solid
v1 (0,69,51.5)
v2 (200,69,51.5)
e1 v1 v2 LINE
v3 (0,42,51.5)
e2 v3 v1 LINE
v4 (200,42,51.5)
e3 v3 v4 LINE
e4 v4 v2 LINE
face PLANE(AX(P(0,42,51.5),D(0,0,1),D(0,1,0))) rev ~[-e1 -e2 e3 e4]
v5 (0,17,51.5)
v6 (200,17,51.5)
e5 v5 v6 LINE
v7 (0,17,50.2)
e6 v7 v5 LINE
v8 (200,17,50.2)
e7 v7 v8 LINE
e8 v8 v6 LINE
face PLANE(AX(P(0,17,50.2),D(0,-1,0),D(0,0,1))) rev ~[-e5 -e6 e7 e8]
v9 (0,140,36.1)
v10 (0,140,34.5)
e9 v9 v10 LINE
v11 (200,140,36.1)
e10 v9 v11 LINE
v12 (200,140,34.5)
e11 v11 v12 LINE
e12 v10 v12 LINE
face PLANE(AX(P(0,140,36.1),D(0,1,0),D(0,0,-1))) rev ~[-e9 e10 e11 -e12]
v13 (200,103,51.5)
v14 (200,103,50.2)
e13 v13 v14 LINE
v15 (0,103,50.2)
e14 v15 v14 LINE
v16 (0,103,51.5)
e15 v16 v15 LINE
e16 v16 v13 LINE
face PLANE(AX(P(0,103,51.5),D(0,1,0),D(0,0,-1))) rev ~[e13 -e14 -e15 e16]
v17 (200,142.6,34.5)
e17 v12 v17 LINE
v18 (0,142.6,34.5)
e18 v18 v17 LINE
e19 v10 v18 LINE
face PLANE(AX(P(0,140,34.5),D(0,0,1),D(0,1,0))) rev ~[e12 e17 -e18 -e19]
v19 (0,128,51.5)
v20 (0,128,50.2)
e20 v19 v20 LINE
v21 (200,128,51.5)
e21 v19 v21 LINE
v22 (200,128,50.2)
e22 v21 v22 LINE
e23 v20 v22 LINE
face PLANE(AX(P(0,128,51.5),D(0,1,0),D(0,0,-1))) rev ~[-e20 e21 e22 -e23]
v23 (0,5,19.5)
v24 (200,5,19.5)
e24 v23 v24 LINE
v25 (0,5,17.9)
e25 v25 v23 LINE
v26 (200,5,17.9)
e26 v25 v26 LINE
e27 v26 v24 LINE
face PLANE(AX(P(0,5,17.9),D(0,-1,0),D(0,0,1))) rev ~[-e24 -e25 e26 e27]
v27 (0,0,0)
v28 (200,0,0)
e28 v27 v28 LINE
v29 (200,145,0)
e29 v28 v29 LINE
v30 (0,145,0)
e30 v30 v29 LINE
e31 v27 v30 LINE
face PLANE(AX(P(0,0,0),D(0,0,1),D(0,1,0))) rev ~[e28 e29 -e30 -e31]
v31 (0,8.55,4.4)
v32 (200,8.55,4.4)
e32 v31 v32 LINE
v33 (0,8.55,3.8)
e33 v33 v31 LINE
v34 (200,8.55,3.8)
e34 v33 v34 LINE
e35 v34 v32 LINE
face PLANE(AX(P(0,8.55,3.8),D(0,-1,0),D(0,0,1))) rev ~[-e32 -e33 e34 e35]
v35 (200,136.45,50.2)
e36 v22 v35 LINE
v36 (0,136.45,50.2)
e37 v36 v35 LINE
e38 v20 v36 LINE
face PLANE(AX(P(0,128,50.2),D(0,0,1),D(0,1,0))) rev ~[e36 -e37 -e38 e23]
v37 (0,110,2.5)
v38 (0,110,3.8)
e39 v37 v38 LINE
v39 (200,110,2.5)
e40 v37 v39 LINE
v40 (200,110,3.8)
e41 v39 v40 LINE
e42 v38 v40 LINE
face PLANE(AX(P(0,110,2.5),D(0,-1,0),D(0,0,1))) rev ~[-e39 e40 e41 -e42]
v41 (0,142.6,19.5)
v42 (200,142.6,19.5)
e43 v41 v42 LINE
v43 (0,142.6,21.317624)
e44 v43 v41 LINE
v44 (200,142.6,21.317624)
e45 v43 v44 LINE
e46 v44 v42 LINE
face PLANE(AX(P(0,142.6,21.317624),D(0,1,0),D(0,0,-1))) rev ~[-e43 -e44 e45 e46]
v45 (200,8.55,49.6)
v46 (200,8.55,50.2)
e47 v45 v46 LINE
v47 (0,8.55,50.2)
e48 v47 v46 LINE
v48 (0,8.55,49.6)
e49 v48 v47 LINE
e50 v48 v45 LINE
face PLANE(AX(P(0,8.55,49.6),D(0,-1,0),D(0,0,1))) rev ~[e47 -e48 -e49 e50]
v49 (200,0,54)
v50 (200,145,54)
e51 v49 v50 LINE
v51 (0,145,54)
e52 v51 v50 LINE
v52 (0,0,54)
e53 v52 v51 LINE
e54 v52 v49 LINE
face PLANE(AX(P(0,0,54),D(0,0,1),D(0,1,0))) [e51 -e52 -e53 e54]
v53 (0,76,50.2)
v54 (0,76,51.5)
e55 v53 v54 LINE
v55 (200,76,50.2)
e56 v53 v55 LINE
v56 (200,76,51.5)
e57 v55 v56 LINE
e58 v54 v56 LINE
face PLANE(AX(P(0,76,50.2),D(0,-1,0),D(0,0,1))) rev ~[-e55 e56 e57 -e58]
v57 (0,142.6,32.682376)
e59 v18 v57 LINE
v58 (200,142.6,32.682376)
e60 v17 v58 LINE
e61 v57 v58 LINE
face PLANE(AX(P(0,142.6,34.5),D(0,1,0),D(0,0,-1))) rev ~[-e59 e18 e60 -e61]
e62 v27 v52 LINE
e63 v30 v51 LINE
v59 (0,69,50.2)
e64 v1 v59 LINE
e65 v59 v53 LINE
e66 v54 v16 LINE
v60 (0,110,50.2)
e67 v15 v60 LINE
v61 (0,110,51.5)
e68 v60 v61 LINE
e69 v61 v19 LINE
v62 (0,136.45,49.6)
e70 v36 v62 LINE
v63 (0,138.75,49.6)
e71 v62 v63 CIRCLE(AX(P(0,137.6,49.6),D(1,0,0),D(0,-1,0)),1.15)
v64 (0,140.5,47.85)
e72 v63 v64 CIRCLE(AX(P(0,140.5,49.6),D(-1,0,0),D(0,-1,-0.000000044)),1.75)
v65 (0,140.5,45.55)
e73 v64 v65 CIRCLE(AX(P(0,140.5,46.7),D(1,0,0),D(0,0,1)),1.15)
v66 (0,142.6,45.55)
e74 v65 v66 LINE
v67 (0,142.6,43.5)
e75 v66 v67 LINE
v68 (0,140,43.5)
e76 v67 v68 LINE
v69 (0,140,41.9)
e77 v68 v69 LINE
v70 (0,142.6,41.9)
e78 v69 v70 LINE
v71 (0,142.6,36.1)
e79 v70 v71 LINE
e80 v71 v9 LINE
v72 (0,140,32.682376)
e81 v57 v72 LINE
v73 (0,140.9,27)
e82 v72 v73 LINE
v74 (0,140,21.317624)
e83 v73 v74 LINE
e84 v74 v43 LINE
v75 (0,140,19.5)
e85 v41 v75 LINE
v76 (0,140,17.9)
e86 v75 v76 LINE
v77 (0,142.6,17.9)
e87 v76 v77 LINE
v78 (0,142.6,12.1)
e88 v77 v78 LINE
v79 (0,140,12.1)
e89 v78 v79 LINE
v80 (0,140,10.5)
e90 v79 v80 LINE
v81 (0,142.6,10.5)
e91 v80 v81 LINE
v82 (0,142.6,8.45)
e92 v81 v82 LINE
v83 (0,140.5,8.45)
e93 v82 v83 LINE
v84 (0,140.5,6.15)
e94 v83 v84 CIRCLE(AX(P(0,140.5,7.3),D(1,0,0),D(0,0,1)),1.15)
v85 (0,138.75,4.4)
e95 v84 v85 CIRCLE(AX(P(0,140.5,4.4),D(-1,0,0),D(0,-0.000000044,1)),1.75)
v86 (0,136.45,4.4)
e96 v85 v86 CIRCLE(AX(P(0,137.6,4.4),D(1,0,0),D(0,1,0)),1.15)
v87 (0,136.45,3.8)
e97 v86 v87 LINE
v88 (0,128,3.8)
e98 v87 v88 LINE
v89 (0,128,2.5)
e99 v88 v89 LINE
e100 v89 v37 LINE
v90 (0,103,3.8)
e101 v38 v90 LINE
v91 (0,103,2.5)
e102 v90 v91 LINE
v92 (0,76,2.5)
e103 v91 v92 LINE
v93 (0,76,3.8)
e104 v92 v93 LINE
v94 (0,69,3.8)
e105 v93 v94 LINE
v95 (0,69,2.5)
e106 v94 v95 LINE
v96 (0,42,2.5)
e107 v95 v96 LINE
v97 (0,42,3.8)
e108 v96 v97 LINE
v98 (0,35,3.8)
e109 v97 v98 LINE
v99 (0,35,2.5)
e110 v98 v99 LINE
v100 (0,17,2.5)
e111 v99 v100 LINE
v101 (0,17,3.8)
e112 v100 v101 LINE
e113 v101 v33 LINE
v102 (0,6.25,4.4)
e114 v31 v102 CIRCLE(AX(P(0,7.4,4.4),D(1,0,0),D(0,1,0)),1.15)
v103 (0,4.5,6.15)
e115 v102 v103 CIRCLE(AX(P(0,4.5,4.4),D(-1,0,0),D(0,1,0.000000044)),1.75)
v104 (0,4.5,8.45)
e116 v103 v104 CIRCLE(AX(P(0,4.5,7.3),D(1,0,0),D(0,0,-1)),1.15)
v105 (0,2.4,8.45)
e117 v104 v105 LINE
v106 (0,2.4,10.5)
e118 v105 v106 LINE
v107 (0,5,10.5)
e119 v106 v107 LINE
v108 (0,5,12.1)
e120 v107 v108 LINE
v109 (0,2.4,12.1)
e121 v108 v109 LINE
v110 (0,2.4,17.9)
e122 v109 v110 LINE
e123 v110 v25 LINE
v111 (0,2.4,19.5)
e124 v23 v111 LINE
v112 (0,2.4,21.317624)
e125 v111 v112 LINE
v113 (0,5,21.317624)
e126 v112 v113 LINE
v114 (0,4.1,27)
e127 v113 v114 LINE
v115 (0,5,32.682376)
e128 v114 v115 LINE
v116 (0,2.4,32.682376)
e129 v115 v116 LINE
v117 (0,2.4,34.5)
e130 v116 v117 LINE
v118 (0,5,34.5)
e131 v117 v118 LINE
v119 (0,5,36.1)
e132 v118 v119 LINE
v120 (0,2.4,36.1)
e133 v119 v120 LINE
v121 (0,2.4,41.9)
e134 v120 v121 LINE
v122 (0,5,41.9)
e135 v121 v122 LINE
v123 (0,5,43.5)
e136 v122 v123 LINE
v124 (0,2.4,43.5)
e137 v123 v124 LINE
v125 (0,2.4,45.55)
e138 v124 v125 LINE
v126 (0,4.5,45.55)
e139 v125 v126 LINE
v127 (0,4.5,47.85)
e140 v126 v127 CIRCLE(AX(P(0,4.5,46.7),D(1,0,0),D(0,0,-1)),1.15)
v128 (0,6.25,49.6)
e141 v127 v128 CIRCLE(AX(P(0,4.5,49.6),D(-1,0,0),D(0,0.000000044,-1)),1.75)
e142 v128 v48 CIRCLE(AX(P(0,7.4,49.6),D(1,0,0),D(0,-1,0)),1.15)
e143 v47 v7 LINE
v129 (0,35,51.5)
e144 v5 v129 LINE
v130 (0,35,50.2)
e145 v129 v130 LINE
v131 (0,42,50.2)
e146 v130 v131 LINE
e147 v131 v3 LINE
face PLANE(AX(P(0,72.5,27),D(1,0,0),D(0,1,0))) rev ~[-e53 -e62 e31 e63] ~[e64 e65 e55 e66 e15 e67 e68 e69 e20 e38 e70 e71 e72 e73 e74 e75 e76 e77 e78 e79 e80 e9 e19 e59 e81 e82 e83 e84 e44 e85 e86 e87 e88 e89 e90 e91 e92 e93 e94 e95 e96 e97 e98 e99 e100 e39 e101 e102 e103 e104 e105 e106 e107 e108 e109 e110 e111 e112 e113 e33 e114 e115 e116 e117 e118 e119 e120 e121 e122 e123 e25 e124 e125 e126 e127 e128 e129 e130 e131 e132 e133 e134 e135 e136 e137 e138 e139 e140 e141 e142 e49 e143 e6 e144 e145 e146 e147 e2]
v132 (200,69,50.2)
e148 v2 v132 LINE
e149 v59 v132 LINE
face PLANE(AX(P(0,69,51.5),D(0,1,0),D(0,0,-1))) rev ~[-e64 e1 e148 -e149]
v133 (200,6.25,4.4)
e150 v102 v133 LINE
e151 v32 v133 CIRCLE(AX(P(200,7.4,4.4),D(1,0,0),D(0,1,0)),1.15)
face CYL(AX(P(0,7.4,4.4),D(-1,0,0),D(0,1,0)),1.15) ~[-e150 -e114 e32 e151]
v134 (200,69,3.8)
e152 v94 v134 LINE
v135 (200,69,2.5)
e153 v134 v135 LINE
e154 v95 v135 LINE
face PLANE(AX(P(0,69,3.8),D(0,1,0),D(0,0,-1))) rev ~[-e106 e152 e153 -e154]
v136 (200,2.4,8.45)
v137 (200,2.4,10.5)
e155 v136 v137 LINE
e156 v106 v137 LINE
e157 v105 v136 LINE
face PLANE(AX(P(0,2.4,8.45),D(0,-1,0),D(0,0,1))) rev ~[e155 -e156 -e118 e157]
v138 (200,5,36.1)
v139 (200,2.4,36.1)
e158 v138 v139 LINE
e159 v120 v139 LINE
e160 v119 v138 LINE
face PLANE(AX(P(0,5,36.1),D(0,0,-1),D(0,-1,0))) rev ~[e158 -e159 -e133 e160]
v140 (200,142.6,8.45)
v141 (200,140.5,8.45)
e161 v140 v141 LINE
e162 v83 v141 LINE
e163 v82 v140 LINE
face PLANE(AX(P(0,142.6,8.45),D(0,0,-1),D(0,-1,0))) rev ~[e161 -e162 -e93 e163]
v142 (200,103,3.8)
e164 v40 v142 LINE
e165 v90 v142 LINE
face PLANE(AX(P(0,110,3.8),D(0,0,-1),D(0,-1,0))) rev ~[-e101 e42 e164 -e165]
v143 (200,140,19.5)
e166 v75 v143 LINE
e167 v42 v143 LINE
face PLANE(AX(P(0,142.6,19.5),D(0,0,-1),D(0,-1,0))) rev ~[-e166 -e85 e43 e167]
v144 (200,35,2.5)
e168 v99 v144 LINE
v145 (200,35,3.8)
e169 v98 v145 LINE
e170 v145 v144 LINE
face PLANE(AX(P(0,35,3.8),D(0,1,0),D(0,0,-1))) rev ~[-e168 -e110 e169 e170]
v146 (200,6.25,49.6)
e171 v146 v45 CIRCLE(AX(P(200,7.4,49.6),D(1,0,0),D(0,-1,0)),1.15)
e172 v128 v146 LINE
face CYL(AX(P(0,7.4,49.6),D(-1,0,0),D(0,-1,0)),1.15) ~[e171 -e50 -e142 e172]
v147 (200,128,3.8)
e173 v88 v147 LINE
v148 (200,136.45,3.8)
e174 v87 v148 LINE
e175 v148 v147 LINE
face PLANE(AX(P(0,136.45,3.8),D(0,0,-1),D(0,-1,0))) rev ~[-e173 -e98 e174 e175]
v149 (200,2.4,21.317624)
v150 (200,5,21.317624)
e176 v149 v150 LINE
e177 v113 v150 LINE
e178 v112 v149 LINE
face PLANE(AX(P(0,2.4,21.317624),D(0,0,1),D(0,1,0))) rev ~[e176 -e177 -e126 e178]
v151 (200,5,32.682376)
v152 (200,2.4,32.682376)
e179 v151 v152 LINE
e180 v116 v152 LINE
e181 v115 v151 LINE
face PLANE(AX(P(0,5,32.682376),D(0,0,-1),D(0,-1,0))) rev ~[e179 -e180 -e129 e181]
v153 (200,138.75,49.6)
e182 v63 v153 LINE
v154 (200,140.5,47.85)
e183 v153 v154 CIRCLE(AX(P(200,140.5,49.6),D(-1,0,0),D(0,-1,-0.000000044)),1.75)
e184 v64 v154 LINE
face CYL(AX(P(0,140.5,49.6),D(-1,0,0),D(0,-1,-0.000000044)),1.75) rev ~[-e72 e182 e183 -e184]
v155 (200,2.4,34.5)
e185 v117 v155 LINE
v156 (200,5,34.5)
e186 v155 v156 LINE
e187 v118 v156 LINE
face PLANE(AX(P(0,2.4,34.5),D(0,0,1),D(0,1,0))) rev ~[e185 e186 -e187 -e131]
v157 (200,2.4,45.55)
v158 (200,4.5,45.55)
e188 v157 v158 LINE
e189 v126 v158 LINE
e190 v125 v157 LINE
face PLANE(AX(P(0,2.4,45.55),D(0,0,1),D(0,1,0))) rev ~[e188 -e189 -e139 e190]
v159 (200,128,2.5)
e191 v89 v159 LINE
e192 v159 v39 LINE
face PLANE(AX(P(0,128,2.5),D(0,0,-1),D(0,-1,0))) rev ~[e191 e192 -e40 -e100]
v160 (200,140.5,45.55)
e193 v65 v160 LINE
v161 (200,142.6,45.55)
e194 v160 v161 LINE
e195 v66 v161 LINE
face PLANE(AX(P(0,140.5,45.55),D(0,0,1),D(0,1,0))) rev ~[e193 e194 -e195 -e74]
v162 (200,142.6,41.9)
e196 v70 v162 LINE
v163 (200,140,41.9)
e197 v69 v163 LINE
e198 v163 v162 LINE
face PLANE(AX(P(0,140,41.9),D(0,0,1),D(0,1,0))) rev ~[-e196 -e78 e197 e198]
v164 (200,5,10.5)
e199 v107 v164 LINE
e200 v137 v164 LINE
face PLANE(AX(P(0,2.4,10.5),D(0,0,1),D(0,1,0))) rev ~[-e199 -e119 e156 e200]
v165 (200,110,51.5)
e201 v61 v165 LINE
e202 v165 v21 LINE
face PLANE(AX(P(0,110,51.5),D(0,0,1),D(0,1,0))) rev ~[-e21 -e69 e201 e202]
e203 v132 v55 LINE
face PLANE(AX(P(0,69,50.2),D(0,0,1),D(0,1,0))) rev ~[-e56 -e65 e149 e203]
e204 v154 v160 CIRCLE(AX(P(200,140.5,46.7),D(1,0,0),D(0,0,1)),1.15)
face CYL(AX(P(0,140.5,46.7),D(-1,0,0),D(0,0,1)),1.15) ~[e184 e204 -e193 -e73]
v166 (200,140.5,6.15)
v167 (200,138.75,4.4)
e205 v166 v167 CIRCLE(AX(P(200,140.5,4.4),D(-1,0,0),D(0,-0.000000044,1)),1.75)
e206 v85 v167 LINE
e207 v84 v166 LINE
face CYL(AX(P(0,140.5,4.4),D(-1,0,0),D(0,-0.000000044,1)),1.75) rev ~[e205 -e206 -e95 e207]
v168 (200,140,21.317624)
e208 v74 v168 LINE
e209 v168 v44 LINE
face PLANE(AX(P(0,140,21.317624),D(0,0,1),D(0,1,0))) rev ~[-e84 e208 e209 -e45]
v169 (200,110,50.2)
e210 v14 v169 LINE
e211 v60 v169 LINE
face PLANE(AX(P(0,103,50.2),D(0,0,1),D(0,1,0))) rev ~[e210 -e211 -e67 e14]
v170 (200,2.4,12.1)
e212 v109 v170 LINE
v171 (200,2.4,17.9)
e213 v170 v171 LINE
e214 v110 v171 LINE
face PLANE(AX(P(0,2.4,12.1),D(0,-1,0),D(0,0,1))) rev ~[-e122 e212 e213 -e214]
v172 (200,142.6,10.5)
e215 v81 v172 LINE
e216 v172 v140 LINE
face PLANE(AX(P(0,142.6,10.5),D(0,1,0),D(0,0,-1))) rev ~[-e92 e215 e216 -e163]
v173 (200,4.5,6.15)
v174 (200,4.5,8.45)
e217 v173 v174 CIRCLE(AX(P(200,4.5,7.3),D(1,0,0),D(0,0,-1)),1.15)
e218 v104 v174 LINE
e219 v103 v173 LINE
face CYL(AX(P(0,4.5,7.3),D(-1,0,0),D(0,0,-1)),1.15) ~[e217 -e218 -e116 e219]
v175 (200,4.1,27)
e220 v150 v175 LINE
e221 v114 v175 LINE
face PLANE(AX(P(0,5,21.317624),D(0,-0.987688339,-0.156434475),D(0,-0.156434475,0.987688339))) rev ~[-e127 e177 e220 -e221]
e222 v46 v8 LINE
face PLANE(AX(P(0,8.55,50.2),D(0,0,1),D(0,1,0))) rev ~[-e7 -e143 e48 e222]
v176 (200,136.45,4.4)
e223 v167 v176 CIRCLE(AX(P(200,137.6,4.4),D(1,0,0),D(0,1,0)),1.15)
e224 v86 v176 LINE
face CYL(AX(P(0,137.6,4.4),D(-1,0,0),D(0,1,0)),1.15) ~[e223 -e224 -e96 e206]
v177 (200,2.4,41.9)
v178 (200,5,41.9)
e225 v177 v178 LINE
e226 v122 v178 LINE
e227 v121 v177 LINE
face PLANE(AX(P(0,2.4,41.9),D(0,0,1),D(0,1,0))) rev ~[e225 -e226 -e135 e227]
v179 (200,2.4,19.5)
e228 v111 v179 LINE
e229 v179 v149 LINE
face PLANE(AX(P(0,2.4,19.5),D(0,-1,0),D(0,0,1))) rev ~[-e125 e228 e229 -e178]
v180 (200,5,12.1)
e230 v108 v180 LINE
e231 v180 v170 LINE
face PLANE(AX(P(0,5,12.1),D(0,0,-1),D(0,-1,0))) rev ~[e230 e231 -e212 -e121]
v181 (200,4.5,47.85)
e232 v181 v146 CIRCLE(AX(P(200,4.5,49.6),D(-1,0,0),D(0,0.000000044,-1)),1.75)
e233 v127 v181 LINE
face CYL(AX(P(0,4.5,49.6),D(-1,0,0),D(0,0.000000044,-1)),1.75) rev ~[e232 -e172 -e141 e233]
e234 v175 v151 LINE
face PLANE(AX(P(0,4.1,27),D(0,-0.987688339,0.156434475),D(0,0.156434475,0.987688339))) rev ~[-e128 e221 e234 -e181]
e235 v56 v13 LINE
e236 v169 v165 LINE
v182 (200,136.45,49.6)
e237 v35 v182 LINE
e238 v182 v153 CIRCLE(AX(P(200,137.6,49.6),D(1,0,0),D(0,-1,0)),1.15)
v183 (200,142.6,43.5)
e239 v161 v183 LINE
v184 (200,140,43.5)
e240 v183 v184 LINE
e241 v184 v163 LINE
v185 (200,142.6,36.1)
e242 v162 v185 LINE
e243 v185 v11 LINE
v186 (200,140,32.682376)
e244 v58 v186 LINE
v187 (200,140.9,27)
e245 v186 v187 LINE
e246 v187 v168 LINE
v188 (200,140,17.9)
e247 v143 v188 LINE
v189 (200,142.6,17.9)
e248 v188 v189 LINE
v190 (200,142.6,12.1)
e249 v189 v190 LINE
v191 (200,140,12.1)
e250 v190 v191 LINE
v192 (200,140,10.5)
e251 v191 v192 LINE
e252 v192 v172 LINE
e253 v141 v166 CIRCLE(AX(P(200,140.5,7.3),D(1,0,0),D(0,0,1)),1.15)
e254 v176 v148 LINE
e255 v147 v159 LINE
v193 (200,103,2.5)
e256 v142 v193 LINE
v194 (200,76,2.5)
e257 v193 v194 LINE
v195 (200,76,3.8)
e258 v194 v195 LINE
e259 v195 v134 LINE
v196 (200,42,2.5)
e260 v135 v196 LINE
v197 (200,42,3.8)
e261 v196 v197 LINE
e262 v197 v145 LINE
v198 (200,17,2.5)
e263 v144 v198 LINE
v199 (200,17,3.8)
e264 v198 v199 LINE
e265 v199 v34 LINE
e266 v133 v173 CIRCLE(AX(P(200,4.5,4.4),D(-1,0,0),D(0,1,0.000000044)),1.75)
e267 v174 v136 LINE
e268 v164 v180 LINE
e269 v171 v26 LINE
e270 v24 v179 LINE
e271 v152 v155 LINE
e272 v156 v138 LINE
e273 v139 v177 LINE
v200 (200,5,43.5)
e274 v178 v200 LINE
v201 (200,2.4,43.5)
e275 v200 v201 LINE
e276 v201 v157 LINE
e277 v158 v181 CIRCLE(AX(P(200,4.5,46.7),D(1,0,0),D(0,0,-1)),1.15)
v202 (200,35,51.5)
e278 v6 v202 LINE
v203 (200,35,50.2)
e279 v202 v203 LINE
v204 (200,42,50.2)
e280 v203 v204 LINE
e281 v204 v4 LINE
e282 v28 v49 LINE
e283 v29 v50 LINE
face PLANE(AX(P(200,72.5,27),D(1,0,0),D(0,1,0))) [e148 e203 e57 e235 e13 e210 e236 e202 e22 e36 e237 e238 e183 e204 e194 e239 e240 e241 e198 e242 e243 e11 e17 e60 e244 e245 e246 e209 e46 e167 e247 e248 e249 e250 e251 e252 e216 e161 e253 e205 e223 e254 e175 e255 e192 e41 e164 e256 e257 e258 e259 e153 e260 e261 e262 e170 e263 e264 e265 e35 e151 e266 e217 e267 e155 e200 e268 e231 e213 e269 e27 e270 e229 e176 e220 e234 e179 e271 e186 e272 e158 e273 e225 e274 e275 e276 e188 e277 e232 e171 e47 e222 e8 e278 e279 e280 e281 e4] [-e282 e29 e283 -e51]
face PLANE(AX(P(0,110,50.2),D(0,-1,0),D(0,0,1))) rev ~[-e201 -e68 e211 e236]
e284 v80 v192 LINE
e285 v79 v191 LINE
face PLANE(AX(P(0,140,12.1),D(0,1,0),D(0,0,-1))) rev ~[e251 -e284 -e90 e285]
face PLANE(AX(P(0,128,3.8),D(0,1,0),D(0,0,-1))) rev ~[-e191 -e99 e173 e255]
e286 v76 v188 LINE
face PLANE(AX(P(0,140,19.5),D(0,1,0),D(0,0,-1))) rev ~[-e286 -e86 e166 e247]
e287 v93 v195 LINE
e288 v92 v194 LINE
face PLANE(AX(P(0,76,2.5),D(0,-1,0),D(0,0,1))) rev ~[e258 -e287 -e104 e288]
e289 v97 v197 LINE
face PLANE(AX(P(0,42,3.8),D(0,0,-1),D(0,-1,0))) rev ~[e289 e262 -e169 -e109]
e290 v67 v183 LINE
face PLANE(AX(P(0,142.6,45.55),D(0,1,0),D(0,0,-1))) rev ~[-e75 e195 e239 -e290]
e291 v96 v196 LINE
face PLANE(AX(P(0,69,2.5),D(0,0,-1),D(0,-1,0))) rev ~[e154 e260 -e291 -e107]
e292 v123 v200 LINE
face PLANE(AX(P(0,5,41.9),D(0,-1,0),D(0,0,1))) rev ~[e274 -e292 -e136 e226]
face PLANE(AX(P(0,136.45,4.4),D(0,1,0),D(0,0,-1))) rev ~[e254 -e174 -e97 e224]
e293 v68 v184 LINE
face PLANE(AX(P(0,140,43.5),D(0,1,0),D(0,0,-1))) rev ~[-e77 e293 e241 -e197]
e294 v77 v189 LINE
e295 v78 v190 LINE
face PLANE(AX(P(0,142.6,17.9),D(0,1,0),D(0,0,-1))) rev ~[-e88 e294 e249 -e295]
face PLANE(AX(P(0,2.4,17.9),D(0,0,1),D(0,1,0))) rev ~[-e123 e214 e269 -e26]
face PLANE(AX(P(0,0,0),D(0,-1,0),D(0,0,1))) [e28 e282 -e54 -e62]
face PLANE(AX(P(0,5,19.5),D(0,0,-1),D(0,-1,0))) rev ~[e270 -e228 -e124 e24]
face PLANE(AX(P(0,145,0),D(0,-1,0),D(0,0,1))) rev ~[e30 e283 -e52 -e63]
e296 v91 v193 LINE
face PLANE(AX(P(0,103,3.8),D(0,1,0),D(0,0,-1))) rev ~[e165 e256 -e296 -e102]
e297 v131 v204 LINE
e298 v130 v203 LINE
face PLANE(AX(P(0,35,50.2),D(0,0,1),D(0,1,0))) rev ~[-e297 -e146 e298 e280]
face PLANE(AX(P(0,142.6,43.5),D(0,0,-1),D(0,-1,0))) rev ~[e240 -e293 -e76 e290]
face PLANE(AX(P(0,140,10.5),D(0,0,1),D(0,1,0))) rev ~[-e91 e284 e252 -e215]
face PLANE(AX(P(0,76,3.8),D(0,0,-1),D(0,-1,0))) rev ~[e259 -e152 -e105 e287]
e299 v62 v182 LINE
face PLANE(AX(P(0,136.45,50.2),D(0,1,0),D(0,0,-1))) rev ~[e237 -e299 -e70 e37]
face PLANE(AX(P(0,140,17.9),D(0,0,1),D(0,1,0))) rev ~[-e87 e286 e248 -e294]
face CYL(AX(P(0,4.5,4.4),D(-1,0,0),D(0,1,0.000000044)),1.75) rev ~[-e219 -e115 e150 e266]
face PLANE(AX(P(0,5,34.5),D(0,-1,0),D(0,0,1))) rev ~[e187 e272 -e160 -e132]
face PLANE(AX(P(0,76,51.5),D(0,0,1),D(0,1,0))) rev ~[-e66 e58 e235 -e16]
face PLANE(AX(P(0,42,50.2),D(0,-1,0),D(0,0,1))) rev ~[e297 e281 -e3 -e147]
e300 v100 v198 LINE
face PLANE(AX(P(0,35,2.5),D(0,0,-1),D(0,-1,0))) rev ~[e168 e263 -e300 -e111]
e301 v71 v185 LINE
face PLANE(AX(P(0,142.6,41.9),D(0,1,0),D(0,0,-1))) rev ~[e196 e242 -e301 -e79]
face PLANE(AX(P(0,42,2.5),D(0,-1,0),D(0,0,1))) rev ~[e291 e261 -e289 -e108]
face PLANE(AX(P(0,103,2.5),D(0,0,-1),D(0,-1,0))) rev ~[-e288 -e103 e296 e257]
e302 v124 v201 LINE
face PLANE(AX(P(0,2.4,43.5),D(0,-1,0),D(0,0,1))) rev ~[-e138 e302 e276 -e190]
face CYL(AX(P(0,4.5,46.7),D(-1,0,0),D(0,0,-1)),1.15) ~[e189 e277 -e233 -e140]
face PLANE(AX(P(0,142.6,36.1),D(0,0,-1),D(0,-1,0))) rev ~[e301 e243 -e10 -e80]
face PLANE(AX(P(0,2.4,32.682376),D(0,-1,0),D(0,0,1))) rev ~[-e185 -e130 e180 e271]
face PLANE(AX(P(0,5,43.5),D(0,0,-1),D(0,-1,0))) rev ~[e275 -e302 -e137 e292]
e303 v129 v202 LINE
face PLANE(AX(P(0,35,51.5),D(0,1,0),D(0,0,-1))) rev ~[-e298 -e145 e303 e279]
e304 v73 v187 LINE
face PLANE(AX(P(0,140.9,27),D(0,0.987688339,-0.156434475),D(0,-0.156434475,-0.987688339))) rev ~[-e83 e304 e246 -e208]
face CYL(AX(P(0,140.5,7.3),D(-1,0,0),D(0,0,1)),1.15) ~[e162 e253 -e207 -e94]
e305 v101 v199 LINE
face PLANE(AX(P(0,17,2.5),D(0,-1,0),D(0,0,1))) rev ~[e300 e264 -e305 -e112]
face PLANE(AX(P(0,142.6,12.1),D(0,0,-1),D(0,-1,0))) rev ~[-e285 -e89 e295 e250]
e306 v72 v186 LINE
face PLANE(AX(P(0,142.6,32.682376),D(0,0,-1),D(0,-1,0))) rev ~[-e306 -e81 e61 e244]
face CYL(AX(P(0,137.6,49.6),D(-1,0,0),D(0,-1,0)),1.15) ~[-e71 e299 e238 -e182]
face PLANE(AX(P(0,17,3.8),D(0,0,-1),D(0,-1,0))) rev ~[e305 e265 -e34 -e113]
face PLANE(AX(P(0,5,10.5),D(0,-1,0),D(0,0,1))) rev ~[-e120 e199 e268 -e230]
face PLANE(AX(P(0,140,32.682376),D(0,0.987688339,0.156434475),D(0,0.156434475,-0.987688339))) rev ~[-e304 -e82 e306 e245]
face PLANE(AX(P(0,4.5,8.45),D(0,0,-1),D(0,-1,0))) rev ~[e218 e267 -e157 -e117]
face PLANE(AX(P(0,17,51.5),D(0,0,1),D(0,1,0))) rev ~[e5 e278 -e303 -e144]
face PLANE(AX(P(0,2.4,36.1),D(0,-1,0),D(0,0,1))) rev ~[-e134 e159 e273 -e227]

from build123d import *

# Parameters (mm, degrees)
F0_W     = 145
F0_H     = 54
F1_DEPTH = 200


with BuildPart() as f1:
    # F0 (on Right) → F1 (new body)
    with BuildSketch(Plane.YZ):
        with Locations((72.5, 27)):
            Rectangle(F0_W, F0_H)
        with BuildLine():
            Line((69, 50.2), (72.5, 50.2))
            Line((72.5, 50.2), (76, 50.2))
            Line((76, 50.2), (76, 51.5))
            Line((76, 51.5), (103, 51.5))
            Line((103, 51.5), (103, 50.2))
            Line((103, 50.2), (110, 50.2))
            Line((110, 50.2), (110, 51.5))
            Line((110, 51.5), (128, 51.5))
            Line((128, 51.5), (128, 50.2))
            Line((128, 50.2), (136.45, 50.2))
            Line((136.45, 50.2), (136.45, 49.6))
            ThreePointArc((136.45, 49.6), (137.6, 48.45), (138.75, 49.6))
            ThreePointArc((138.75, 49.6), (141.737437, 50.837437), (140.5, 47.85))
            ThreePointArc((140.5, 47.85), (139.35, 46.7), (140.5, 45.55))
            Line((140.5, 45.55), (142.6, 45.55))
            Line((142.6, 45.55), (142.6, 43.5))
            Line((142.6, 43.5), (140, 43.5))
            Line((140, 43.5), (140, 41.9))
            Line((140, 41.9), (142.6, 41.9))
            Line((142.6, 41.9), (142.6, 36.1))
            Line((142.6, 36.1), (140, 36.1))
            Line((140, 36.1), (140, 34.5))
            Line((140, 34.5), (142.6, 34.5))
            Line((142.6, 34.5), (142.6, 32.682376))
            Line((142.6, 32.682376), (140, 32.682376))
            Line((140, 32.682376), (140.9, 27))
            Line((140.9, 27), (140, 21.317624))
            Line((140, 21.317624), (142.6, 21.317624))
            Line((142.6, 21.317624), (142.6, 19.5))
            Line((142.6, 19.5), (140, 19.5))
            Line((140, 19.5), (140, 17.9))
            Line((140, 17.9), (142.6, 17.9))
            Line((142.6, 17.9), (142.6, 12.1))
            Line((142.6, 12.1), (140, 12.1))
            Line((140, 12.1), (140, 10.5))
            Line((140, 10.5), (142.6, 10.5))
            Line((142.6, 10.5), (142.6, 8.45))
            Line((142.6, 8.45), (140.5, 8.45))
            ThreePointArc((140.5, 8.45), (139.35, 7.3), (140.5, 6.15))
            ThreePointArc((140.5, 6.15), (141.737437, 3.162563), (138.75, 4.4))
            ThreePointArc((138.75, 4.4), (137.6, 5.55), (136.45, 4.4))
            Line((136.45, 4.4), (136.45, 3.8))
            Line((136.45, 3.8), (128, 3.8))
            Line((128, 3.8), (128, 2.5))
            Line((128, 2.5), (110, 2.5))
            Line((110, 2.5), (110, 3.8))
            Line((110, 3.8), (103, 3.8))
            Line((103, 3.8), (103, 2.5))
            Line((103, 2.5), (76, 2.5))
            Line((76, 2.5), (76, 3.8))
            Line((76, 3.8), (72.5, 3.8))
            Line((72.5, 3.8), (69, 3.8))
            Line((69, 3.8), (69, 2.5))
            Line((69, 2.5), (42, 2.5))
            Line((42, 2.5), (42, 3.8))
            Line((42, 3.8), (35, 3.8))
            Line((35, 3.8), (35, 2.5))
            Line((35, 2.5), (17, 2.5))
            Line((17, 2.5), (17, 3.8))
            Line((17, 3.8), (8.55, 3.8))
            Line((8.55, 3.8), (8.55, 4.4))
            ThreePointArc((8.55, 4.4), (7.4, 5.55), (6.25, 4.4))
            ThreePointArc((6.25, 4.4), (3.262563, 3.162563), (4.5, 6.15))
            ThreePointArc((4.5, 6.15), (5.65, 7.3), (4.5, 8.45))
            Line((4.5, 8.45), (2.4, 8.45))
            Line((2.4, 8.45), (2.4, 10.5))
            Line((2.4, 10.5), (5, 10.5))
            Line((5, 10.5), (5, 12.1))
            Line((5, 12.1), (2.4, 12.1))
            Line((2.4, 12.1), (2.4, 17.9))
            Line((2.4, 17.9), (5, 17.9))
            Line((5, 17.9), (5, 19.5))
            Line((5, 19.5), (2.4, 19.5))
            Line((2.4, 19.5), (2.4, 21.317624))
            Line((2.4, 21.317624), (5, 21.317624))
            Line((5, 21.317624), (4.1, 27))
            Line((4.1, 27), (5, 32.682376))
            Line((5, 32.682376), (2.4, 32.682376))
            Line((2.4, 32.682376), (2.4, 34.5))
            Line((2.4, 34.5), (5, 34.5))
            Line((5, 34.5), (5, 36.1))
            Line((5, 36.1), (2.4, 36.1))
            Line((2.4, 36.1), (2.4, 41.9))
            Line((2.4, 41.9), (5, 41.9))
            Line((5, 41.9), (5, 43.5))
            Line((5, 43.5), (2.4, 43.5))
            Line((2.4, 43.5), (2.4, 45.55))
            Line((2.4, 45.55), (4.5, 45.55))
            ThreePointArc((4.5, 45.55), (5.65, 46.7), (4.5, 47.85))
            ThreePointArc((4.5, 47.85), (3.262563, 50.837437), (6.25, 49.6))
            ThreePointArc((6.25, 49.6), (7.4, 48.45), (8.55, 49.6))
            Line((8.55, 49.6), (8.55, 50.2))
            Line((8.55, 50.2), (17, 50.2))
            Line((17, 50.2), (17, 51.5))
            Line((17, 51.5), (35, 51.5))
            Line((35, 51.5), (35, 50.2))
            Line((35, 50.2), (42, 50.2))
            Line((42, 50.2), (42, 51.5))
            Line((42, 51.5), (69, 51.5))
            Line((69, 51.5), (69, 50.2))
        make_face(mode=Mode.SUBTRACT)
    extrude(amount=F1_DEPTH)


solid = f1.part
